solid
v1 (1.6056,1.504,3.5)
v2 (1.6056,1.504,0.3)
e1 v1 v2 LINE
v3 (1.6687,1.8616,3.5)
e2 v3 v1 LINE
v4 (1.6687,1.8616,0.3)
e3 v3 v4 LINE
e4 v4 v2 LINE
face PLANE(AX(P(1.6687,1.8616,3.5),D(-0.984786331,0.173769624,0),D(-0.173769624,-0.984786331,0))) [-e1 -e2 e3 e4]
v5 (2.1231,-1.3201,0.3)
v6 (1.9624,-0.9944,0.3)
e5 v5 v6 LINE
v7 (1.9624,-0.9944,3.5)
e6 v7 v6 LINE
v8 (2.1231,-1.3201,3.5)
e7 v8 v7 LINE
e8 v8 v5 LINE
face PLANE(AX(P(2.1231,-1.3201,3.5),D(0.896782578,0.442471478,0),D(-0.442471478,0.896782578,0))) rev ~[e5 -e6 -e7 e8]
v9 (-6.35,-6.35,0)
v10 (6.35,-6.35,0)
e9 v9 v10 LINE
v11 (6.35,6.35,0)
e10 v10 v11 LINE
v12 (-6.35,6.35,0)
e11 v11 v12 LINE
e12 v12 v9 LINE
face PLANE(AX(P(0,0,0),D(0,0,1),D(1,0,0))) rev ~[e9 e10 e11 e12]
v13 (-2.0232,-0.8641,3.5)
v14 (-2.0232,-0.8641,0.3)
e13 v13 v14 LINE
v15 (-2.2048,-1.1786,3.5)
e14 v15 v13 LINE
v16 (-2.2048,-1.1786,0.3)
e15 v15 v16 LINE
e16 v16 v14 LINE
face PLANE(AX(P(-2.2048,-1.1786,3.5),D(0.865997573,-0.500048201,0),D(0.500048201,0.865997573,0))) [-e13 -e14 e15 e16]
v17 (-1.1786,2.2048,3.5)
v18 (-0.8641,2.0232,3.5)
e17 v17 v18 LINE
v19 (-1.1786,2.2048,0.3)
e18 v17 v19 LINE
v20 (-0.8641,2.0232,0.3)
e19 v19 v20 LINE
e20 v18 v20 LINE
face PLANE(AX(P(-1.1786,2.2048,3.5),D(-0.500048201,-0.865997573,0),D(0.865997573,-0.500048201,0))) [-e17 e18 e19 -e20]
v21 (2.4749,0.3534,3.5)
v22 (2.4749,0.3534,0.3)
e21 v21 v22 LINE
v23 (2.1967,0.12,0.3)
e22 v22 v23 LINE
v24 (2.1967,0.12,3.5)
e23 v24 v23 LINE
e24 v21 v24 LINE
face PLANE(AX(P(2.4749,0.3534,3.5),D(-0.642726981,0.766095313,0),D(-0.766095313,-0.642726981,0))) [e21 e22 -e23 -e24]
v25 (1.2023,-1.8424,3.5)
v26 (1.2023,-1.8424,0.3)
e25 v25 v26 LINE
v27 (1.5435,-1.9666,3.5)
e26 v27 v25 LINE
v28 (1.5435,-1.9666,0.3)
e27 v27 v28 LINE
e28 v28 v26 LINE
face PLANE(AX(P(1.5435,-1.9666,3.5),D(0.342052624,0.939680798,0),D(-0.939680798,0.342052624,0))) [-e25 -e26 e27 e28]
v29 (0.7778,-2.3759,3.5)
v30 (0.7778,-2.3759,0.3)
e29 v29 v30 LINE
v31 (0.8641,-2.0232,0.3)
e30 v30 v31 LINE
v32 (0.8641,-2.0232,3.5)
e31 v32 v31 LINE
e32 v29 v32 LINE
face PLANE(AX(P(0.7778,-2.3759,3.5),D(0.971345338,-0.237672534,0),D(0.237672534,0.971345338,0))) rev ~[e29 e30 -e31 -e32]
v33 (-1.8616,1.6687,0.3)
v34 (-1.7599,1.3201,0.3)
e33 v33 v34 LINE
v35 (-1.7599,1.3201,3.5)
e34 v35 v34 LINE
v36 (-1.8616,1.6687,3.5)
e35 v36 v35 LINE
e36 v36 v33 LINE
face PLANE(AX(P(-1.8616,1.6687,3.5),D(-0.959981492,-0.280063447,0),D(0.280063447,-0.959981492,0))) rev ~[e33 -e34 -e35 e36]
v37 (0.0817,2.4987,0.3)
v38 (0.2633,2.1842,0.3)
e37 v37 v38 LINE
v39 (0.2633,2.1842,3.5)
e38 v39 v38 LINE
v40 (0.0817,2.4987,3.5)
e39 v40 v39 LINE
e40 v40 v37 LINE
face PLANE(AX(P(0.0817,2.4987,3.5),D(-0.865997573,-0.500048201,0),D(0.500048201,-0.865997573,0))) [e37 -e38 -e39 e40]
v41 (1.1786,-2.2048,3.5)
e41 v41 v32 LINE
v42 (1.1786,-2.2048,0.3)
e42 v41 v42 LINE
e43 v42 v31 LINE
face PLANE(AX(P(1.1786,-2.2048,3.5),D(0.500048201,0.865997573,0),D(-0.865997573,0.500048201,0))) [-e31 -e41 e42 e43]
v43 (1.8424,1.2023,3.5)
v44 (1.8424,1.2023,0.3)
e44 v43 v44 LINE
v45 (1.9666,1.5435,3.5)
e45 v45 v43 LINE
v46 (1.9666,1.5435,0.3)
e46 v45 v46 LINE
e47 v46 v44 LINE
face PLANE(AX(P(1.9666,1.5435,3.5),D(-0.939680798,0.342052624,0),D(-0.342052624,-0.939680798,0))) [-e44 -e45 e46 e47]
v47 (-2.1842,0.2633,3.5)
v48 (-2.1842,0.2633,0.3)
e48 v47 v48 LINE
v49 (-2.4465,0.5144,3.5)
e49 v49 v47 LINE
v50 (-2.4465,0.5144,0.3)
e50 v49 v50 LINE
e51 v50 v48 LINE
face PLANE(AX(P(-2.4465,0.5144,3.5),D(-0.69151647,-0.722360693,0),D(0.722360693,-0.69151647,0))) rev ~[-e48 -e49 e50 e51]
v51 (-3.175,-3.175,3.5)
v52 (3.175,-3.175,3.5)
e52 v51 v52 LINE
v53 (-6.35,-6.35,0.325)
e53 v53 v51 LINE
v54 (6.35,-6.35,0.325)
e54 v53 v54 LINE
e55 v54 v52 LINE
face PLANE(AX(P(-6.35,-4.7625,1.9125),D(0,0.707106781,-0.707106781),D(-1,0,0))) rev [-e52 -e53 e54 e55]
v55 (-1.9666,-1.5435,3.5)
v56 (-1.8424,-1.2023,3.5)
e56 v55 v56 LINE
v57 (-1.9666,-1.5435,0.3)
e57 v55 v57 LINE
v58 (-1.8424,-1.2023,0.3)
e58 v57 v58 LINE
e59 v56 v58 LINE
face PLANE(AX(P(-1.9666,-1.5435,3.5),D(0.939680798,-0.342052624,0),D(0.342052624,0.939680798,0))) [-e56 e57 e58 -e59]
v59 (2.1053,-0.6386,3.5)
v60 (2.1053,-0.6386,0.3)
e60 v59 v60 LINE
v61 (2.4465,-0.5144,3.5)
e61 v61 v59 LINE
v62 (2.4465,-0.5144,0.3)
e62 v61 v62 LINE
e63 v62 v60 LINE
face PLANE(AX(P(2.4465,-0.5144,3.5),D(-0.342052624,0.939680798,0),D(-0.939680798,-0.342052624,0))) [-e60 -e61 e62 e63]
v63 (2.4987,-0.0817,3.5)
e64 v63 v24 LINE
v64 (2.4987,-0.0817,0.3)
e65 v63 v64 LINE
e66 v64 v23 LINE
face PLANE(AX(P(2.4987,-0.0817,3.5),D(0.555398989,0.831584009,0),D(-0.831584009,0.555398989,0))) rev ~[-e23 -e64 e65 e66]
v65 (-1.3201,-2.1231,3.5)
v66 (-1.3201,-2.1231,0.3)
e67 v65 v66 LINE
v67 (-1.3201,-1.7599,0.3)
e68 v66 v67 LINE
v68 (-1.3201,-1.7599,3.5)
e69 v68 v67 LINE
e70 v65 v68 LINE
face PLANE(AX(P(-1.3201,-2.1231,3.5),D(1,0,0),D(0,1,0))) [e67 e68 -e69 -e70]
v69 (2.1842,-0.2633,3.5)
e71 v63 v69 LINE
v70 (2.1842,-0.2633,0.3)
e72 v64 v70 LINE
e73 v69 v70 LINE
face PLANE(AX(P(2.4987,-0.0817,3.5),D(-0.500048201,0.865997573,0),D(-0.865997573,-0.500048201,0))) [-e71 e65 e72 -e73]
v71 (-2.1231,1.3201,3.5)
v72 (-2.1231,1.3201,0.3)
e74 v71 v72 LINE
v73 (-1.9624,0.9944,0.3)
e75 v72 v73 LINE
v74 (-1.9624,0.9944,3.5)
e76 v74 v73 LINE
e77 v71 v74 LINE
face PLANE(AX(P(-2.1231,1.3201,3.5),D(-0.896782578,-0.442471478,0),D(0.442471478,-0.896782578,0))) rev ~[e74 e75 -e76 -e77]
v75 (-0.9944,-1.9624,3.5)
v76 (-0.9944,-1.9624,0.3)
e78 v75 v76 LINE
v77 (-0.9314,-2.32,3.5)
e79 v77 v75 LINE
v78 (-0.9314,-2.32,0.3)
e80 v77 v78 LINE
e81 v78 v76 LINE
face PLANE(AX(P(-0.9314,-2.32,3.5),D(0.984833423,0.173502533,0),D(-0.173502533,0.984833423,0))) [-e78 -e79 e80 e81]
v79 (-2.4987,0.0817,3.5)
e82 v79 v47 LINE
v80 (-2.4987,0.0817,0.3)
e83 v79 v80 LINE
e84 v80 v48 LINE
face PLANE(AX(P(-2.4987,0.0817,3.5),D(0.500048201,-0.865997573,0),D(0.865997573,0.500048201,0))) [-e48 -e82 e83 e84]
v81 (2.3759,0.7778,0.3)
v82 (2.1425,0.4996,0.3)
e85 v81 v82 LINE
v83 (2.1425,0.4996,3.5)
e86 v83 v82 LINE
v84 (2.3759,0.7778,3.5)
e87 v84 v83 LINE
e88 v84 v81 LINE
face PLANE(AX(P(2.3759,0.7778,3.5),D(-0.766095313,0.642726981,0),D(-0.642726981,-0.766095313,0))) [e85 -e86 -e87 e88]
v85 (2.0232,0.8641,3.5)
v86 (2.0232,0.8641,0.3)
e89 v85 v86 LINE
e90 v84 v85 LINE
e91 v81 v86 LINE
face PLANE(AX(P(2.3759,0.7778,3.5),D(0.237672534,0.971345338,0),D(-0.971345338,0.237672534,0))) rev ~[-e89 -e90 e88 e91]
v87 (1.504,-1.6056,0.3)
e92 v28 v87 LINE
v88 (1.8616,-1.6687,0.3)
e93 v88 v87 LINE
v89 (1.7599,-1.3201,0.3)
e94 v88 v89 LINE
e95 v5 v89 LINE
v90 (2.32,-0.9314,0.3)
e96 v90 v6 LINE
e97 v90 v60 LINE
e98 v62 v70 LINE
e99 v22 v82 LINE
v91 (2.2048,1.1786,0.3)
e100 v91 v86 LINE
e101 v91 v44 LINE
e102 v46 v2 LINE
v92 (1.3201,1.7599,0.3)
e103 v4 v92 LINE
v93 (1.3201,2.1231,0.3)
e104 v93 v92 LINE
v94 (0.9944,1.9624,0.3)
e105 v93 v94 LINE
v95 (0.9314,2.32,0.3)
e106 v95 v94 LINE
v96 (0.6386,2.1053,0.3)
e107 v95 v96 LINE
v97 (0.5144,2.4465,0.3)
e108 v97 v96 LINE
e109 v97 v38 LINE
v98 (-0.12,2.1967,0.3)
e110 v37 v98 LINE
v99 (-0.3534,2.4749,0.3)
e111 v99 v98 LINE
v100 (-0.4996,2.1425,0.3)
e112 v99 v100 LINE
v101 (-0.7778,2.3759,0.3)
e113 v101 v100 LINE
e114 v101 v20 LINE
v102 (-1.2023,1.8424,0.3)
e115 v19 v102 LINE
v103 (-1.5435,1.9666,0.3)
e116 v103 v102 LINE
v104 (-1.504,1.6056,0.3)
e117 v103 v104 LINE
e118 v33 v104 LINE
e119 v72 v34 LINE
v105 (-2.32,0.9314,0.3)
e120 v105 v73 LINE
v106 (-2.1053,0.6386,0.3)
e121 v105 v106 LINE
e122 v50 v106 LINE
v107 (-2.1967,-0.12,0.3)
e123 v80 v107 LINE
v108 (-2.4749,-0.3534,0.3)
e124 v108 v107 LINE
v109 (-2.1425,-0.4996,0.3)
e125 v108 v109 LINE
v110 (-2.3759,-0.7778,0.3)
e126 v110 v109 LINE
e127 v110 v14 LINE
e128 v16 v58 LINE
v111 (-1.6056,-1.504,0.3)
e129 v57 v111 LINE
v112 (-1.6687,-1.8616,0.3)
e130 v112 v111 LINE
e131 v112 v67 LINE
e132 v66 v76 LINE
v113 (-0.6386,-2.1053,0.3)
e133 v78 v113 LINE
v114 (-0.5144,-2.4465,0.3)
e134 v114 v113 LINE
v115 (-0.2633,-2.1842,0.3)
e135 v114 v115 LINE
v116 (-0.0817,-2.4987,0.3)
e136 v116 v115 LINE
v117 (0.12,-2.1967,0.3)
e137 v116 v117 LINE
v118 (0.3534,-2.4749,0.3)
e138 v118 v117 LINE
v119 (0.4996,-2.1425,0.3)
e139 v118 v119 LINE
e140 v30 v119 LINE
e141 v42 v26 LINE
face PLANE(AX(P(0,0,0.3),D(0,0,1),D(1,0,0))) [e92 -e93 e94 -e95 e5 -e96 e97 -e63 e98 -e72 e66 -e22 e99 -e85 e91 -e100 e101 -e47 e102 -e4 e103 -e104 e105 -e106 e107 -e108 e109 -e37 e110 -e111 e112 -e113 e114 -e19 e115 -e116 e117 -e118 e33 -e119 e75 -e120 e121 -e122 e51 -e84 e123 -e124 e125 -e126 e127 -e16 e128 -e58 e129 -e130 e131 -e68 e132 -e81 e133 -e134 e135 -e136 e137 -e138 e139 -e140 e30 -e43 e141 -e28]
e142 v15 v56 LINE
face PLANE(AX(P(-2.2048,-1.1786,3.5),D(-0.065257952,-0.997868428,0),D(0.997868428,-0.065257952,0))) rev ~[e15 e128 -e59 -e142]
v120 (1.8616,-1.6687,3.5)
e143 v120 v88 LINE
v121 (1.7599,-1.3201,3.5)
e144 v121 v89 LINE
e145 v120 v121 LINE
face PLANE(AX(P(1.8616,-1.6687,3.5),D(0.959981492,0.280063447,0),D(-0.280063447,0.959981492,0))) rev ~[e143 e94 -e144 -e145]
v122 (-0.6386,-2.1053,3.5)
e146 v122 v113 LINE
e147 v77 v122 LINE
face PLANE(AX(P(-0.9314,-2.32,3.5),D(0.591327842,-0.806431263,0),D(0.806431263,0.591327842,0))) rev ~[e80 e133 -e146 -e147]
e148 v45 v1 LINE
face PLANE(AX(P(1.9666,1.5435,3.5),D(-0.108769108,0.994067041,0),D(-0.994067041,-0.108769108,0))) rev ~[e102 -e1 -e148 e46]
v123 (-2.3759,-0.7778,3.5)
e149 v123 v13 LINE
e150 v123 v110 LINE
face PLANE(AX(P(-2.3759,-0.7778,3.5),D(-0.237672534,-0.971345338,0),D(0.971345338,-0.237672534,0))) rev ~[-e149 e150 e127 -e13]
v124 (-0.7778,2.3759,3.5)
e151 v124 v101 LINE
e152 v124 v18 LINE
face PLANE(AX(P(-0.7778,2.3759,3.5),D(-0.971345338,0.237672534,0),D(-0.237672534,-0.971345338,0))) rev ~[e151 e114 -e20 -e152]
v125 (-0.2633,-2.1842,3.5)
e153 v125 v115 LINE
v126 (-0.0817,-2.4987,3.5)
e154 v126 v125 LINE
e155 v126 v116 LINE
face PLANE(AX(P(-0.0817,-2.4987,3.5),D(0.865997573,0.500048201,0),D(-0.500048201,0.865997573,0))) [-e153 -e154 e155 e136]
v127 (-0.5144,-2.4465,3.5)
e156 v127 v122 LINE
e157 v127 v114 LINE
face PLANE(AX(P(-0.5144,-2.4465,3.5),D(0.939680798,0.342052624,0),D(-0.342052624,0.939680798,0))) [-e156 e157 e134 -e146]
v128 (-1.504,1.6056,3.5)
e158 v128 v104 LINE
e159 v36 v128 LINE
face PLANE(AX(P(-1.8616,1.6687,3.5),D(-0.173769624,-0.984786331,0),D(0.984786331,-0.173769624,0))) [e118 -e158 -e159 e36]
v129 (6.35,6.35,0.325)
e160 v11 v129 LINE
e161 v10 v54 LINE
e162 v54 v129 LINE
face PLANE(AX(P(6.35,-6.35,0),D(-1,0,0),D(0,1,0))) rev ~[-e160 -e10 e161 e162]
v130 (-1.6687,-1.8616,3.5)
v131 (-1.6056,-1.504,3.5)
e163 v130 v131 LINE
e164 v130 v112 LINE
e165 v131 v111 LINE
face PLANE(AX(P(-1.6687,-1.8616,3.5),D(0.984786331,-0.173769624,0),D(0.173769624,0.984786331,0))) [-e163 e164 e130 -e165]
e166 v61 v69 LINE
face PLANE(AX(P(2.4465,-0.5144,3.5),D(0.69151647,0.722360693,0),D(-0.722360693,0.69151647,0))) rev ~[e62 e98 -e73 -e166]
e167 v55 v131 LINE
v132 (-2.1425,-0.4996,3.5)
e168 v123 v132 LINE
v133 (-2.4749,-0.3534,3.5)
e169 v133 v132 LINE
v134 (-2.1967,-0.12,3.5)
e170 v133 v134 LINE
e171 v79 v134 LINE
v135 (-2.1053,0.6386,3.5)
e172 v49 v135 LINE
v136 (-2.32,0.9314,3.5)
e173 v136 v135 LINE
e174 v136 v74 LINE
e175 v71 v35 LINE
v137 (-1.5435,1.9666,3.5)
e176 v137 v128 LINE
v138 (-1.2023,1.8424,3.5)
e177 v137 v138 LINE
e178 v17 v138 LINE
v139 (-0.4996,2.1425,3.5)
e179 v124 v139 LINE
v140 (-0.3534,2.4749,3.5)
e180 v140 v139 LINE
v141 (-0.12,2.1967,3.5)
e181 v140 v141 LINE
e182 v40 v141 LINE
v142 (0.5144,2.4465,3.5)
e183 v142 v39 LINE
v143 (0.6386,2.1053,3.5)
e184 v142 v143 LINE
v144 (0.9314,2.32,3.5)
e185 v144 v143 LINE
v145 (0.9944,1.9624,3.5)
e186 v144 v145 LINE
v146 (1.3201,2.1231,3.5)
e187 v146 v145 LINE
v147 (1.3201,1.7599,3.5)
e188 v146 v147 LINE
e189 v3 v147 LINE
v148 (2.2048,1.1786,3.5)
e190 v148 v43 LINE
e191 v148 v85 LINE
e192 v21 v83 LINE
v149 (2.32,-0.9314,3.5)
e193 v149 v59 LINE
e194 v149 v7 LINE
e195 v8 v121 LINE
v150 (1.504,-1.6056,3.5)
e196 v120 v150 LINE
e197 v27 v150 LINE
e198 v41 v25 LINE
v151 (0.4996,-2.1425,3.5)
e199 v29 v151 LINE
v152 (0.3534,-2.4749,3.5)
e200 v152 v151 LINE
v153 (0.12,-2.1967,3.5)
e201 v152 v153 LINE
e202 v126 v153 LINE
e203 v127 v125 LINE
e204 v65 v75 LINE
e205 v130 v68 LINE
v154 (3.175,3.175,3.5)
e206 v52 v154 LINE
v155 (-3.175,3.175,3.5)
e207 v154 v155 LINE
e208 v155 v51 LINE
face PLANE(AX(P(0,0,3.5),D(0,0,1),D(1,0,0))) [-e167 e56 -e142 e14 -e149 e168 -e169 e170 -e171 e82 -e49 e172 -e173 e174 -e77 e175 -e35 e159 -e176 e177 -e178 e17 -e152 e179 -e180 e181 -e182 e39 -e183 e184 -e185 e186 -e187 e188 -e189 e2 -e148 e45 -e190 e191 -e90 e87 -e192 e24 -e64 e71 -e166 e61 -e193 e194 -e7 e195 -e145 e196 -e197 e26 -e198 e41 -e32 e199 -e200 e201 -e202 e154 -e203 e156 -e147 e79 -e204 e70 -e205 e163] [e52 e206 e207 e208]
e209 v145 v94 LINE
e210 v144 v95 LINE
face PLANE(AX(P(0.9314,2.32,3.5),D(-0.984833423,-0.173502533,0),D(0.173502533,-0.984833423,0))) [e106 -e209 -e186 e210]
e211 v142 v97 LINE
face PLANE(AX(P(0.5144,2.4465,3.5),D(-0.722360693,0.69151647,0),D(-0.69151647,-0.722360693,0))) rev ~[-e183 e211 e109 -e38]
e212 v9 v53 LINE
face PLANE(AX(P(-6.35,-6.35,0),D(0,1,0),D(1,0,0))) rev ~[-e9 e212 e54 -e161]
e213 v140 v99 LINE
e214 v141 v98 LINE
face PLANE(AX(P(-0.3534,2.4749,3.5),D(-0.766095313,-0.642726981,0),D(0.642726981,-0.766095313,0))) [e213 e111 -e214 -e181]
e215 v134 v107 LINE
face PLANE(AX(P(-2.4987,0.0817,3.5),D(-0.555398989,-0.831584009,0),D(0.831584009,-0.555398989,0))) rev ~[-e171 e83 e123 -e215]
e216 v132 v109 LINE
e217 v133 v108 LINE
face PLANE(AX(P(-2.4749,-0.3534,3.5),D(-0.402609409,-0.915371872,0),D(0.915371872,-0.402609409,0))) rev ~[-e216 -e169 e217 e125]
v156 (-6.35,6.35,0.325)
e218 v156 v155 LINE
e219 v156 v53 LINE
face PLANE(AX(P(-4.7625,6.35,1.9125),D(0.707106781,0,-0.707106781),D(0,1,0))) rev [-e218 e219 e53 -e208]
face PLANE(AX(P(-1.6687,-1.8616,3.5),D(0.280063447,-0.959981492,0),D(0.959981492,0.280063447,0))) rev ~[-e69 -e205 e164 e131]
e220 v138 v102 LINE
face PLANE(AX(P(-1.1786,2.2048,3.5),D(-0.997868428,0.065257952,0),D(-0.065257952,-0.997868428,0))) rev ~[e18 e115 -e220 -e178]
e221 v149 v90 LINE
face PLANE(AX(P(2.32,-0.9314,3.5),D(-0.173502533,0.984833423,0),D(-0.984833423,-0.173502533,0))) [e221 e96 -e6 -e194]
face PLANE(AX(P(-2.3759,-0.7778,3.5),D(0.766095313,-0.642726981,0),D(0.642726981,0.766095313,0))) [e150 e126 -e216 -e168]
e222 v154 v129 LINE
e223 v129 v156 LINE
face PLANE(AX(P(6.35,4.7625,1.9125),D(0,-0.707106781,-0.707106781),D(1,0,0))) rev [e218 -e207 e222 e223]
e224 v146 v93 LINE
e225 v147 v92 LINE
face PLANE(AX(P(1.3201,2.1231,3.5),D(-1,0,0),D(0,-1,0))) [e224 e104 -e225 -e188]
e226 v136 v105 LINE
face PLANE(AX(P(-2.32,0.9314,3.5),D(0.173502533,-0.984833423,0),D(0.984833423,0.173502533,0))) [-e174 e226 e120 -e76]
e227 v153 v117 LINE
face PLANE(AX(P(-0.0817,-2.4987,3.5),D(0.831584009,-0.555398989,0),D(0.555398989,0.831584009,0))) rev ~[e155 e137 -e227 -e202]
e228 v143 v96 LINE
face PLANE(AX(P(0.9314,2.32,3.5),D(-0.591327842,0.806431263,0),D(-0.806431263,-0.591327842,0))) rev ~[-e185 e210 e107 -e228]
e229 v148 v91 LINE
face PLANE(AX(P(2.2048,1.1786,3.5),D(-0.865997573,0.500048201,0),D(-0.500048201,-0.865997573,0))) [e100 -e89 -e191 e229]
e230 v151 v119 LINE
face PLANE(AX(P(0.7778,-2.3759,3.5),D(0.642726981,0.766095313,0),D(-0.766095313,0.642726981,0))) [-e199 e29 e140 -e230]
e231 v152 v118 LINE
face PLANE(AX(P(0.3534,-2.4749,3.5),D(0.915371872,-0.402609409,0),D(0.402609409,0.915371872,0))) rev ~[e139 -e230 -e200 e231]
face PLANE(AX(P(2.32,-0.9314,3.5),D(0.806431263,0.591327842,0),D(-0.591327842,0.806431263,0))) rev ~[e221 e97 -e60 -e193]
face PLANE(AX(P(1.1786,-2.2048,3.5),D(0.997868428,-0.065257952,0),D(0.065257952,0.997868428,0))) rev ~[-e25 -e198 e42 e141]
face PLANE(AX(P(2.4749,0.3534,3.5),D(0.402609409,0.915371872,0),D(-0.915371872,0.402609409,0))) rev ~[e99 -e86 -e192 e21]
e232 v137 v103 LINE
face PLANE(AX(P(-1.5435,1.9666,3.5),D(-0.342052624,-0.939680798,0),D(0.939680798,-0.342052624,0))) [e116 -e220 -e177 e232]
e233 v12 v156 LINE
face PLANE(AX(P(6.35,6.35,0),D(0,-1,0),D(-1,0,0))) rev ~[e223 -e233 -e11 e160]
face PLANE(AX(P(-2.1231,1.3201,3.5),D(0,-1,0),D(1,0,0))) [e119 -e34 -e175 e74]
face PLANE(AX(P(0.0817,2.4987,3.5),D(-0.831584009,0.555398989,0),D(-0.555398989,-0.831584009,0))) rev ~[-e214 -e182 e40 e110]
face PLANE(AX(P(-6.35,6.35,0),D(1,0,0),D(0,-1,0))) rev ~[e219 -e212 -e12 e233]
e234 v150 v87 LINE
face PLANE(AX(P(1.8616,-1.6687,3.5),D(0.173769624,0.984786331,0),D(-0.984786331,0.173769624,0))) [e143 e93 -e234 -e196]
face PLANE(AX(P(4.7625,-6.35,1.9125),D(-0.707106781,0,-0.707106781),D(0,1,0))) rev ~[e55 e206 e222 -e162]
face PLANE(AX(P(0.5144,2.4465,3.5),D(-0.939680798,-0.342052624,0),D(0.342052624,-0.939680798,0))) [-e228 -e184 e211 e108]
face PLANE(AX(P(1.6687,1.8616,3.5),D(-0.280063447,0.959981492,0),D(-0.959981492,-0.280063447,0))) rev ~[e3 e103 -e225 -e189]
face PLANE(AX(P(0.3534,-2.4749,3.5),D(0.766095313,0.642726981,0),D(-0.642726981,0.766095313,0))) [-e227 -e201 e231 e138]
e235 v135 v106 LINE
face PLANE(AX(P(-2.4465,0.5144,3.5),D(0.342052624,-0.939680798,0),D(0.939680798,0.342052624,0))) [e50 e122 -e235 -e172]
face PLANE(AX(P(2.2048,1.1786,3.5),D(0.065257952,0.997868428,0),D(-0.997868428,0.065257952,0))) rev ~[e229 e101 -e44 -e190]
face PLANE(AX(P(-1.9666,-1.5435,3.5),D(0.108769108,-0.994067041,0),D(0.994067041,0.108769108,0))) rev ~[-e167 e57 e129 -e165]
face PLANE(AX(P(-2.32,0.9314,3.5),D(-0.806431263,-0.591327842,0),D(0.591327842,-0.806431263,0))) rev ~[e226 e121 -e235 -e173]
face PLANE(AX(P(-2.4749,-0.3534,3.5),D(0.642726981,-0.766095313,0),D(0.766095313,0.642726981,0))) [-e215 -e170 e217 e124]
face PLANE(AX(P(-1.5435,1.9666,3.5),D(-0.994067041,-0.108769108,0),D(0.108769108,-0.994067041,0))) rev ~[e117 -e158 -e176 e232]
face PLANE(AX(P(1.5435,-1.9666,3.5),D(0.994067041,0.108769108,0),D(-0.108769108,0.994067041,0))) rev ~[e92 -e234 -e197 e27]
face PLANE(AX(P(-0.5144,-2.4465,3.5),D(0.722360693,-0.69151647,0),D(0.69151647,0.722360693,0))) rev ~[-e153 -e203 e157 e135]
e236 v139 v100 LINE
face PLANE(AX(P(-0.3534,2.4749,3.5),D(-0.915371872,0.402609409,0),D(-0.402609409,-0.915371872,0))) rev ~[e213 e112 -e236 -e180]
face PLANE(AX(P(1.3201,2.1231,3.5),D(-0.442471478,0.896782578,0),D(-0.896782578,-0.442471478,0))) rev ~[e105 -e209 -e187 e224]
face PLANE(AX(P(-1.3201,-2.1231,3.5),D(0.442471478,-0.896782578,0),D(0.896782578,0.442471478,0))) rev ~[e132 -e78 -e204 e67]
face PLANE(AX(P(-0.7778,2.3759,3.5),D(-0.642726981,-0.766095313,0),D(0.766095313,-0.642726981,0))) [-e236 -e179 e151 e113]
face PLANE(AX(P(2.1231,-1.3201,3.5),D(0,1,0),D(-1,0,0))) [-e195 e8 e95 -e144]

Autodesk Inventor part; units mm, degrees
ref_plane "YZ Plane" through (0, 0, 0) normal (1, 0, 0) x (0, 1, 0)
ref_plane "XZ Plane" through (0, 0, 0) normal (0, 1, 0) x (-1, 0, 0)
ref_plane "XY Plane" through (0, 0, 0) normal (0, 0, 1) x (1, 0, 0)
sketch "Sketch1" plane through (0, 0, 0) normal (0, 0, 1) x (1, 0, 0)
  line L0 (-6.35, -6.35) -> (6.35, -6.35)
  line L1 (6.35, -6.35) -> (6.35, 6.35)
  line L2 (6.35, 6.35) -> (-6.35, 6.35)
  line L3 (-6.35, 6.35) -> (-6.35, -6.35)
  line L4 (-6.35, -6.35) -> (6.35, 6.35) construction
  line L5 (6.35, -6.35) -> (-6.35, 6.35) construction
  line L6 (-0.3534, 2.4749) -> (-0.4996, 2.1425)
  line L7 (-0.3534, 2.4749) -> (-0.12, 2.1967)
  line L8 (-0.7778, 2.3759) -> (-0.8641, 2.0232)
  line L9 (-0.7778, 2.3759) -> (-0.4996, 2.1425)
  line L10 (-1.1786, 2.2048) -> (-1.2023, 1.8424)
  line L11 (-1.1786, 2.2048) -> (-0.8641, 2.0232)
  line L12 (-1.5435, 1.9666) -> (-1.504, 1.6056)
  line L13 (-1.5435, 1.9666) -> (-1.2023, 1.8424)
  line L14 (-1.8616, 1.6687) -> (-1.7599, 1.3201)
  line L15 (-1.8616, 1.6687) -> (-1.504, 1.6056)
  line L16 (-2.1231, 1.3201) -> (-1.9624, 0.9944)
  line L17 (-2.1231, 1.3201) -> (-1.7599, 1.3201)
  line L18 (-2.32, 0.9314) -> (-2.1053, 0.6386)
  line L19 (-2.32, 0.9314) -> (-1.9624, 0.9944)
  line L20 (-2.4465, 0.5144) -> (-2.1842, 0.2633)
  line L21 (-2.4465, 0.5144) -> (-2.1053, 0.6386)
  line L22 (-2.4987, 0.0817) -> (-2.1967, -0.12)
  line L23 (-2.4987, 0.0817) -> (-2.1842, 0.2633)
  line L24 (-2.4749, -0.3534) -> (-2.1425, -0.4996)
  line L25 (-2.4749, -0.3534) -> (-2.1967, -0.12)
  line L26 (-2.3759, -0.7778) -> (-2.0232, -0.8641)
  line L27 (-2.3759, -0.7778) -> (-2.1425, -0.4996)
  line L28 (-2.2048, -1.1786) -> (-1.8424, -1.2023)
  line L29 (-2.2048, -1.1786) -> (-2.0232, -0.8641)
  line L30 (-1.9666, -1.5435) -> (-1.6056, -1.504)
  line L31 (-1.9666, -1.5435) -> (-1.8424, -1.2023)
  line L32 (-1.6687, -1.8616) -> (-1.3201, -1.7599)
  line L33 (-1.6687, -1.8616) -> (-1.6056, -1.504)
  line L34 (-1.3201, -2.1231) -> (-0.9944, -1.9624)
  line L35 (-1.3201, -2.1231) -> (-1.3201, -1.7599)
  line L36 (-0.9314, -2.32) -> (-0.6386, -2.1053)
  line L37 (-0.9314, -2.32) -> (-0.9944, -1.9624)
  line L38 (-0.5144, -2.4465) -> (-0.2633, -2.1842)
  line L39 (-0.5144, -2.4465) -> (-0.6386, -2.1053)
  line L40 (-0.0817, -2.4987) -> (0.12, -2.1967)
  line L41 (-0.0817, -2.4987) -> (-0.2633, -2.1842)
  line L42 (0.3534, -2.4749) -> (0.4996, -2.1425)
  line L43 (0.3534, -2.4749) -> (0.12, -2.1967)
  line L44 (0.7778, -2.3759) -> (0.8641, -2.0232)
  line L45 (0.7778, -2.3759) -> (0.4996, -2.1425)
  line L46 (1.1786, -2.2048) -> (1.2023, -1.8424)
  line L47 (1.1786, -2.2048) -> (0.8641, -2.0232)
  line L48 (1.5435, -1.9666) -> (1.504, -1.6056)
  line L49 (1.5435, -1.9666) -> (1.2023, -1.8424)
  line L50 (1.8616, -1.6687) -> (1.7599, -1.3201)
  line L51 (1.8616, -1.6687) -> (1.504, -1.6056)
  line L52 (2.1231, -1.3201) -> (1.9624, -0.9944)
  line L53 (2.1231, -1.3201) -> (1.7599, -1.3201)
  line L54 (2.32, -0.9314) -> (2.1053, -0.6386)
  line L55 (2.32, -0.9314) -> (1.9624, -0.9944)
  line L56 (2.4465, -0.5144) -> (2.1842, -0.2633)
  line L57 (2.4465, -0.5144) -> (2.1053, -0.6386)
  line L58 (2.4987, -0.0817) -> (2.1967, 0.12)
  line L59 (2.4987, -0.0817) -> (2.1842, -0.2633)
  line L60 (2.4749, 0.3534) -> (2.1425, 0.4996)
  line L61 (2.4749, 0.3534) -> (2.1967, 0.12)
  line L62 (2.3759, 0.7778) -> (2.0232, 0.8641)
  line L63 (2.3759, 0.7778) -> (2.1425, 0.4996)
  line L64 (2.2048, 1.1786) -> (1.8424, 1.2023)
  line L65 (2.2048, 1.1786) -> (2.0232, 0.8641)
  line L66 (1.9666, 1.5435) -> (1.6056, 1.504)
  line L67 (1.9666, 1.5435) -> (1.8424, 1.2023)
  line L68 (1.6687, 1.8616) -> (1.3201, 1.7599)
  line L69 (1.6687, 1.8616) -> (1.6056, 1.504)
  line L70 (1.3201, 2.1231) -> (0.9944, 1.9624)
  line L71 (1.3201, 2.1231) -> (1.3201, 1.7599)
  line L72 (0.9314, 2.32) -> (0.6386, 2.1053)
  line L73 (0.9314, 2.32) -> (0.9944, 1.9624)
  line L74 (0.5144, 2.4465) -> (0.2633, 2.1842)
  line L75 (0.5144, 2.4465) -> (0.6386, 2.1053)
  line L76 (0.0817, 2.4987) -> (-0.12, 2.1967)
  line L77 (0.0817, 2.4987) -> (0.2633, 2.1842)
  circle A0 centre (0, 0) radius 0.3723
  point P0 (0, 0)
  dimension "d0" = 12.7
  dimension "d1" = 12.7
extrude "Extrusion1" add sketch "Sketch1" along normal blind 3.5 contours L3 L2 L1 L0 | L7 L76 L77 L74 L75 L72 L73 L70 L71 L68 L69 L66 L67 L64 L65 L62 L63 L60 L61 L58 L59 L56 L57 L54 L55 L52 L53 L50 L51 L48 L49 L46 L47 L44 L45 L42 L43 L40 L41 L38 L39 L36 L37 L34 L35 L32 L33 L30 L31 L28 L29 L26 L27 L24 L25 L22 L23 L20 L21 L18 L19 L16 L17 L14 L15 L12 L13 L10 L11 L8 L9 L6 | A0
sketch "Sketch2" plane through (0, 0, 3.5) normal (0, 0, 1) x (1, 0, 0)
  line L0 (2.2048, 1.1786) -> (1.8424, 1.2023)
  line L1 (2.2048, 1.1786) -> (2.0232, 0.8641)
  line L2 (2.4749, 0.3534) -> (2.1425, 0.4996)
  line L3 (2.4749, 0.3534) -> (2.1967, 0.12)
  line L4 (2.4987, -0.0817) -> (2.1967, 0.12)
  line L5 (2.4987, -0.0817) -> (2.1842, -0.2633)
  line L6 (-0.3534, 2.4749) -> (-0.12, 2.1967)
  line L7 (-0.3534, 2.4749) -> (-0.4996, 2.1425)
  line L8 (-1.5435, 1.9666) -> (-1.504, 1.6056)
  line L9 (-1.8616, 1.6687) -> (-1.504, 1.6056)
  line L10 (-1.8616, 1.6687) -> (-1.7599, 1.3201)
  line L11 (-1.5435, 1.9666) -> (-1.2023, 1.8424)
  line L12 (-1.1786, 2.2048) -> (-1.2023, 1.8424)
  line L13 (-1.1786, 2.2048) -> (-0.8641, 2.0232)
  line L14 (-0.7778, 2.3759) -> (-0.8641, 2.0232)
  line L15 (-0.7778, 2.3759) -> (-0.4996, 2.1425)
  line L16 (-2.1231, 1.3201) -> (-1.7599, 1.3201)
  line L17 (-2.1231, 1.3201) -> (-1.9624, 0.9944)
  line L18 (-2.32, 0.9314) -> (-1.9624, 0.9944)
  line L19 (-2.32, 0.9314) -> (-2.1053, 0.6386)
  line L20 (-2.4465, 0.5144) -> (-2.1053, 0.6386)
  line L21 (-2.4465, 0.5144) -> (-2.1842, 0.2633)
  line L22 (-2.4987, 0.0817) -> (-2.1842, 0.2633)
  line L23 (-2.4987, 0.0817) -> (-2.1967, -0.12)
  line L24 (-2.4749, -0.3534) -> (-2.1967, -0.12)
  line L25 (-2.4749, -0.3534) -> (-2.1425, -0.4996)
  line L26 (-2.3759, -0.7778) -> (-2.1425, -0.4996)
  line L27 (-2.3759, -0.7778) -> (-2.0232, -0.8641)
  line L28 (-2.2048, -1.1786) -> (-2.0232, -0.8641)
  line L29 (-2.2048, -1.1786) -> (-1.8424, -1.2023)
  line L30 (-1.9666, -1.5435) -> (-1.8424, -1.2023)
  line L31 (-1.9666, -1.5435) -> (-1.6056, -1.504)
  line L32 (-1.6687, -1.8616) -> (-1.6056, -1.504)
  line L33 (-1.6687, -1.8616) -> (-1.3201, -1.7599)
  line L34 (-1.3201, -2.1231) -> (-1.3201, -1.7599)
  line L35 (-1.3201, -2.1231) -> (-0.9944, -1.9624)
  line L36 (-0.9314, -2.32) -> (-0.9944, -1.9624)
  line L37 (-0.9314, -2.32) -> (-0.6386, -2.1053)
  line L38 (-0.5144, -2.4465) -> (-0.6386, -2.1053)
  line L39 (-0.5144, -2.4465) -> (-0.2633, -2.1842)
  line L40 (-0.0817, -2.4987) -> (-0.2633, -2.1842)
  line L41 (-0.0817, -2.4987) -> (0.12, -2.1967)
  line L42 (0.3534, -2.4749) -> (0.12, -2.1967)
  line L43 (0.3534, -2.4749) -> (0.4996, -2.1425)
  line L44 (0.7778, -2.3759) -> (0.4996, -2.1425)
  line L45 (0.7778, -2.3759) -> (0.8641, -2.0232)
  line L46 (1.1786, -2.2048) -> (0.8641, -2.0232)
  line L47 (1.1786, -2.2048) -> (1.2023, -1.8424)
  line L48 (1.5435, -1.9666) -> (1.2023, -1.8424)
  line L49 (1.5435, -1.9666) -> (1.504, -1.6056)
  line L50 (1.8616, -1.6687) -> (1.504, -1.6056)
  line L51 (1.8616, -1.6687) -> (1.7599, -1.3201)
  line L52 (2.1231, -1.3201) -> (1.7599, -1.3201)
  line L53 (2.1231, -1.3201) -> (1.9624, -0.9944)
  line L54 (2.32, -0.9314) -> (1.9624, -0.9944)
  line L55 (2.32, -0.9314) -> (2.1053, -0.6386)
  line L56 (2.4465, -0.5144) -> (2.1053, -0.6386)
  line L57 (2.4465, -0.5144) -> (2.1842, -0.2633)
  line L58 (2.3759, 0.7778) -> (2.0232, 0.8641)
  line L59 (2.3759, 0.7778) -> (2.1425, 0.4996)
  line L60 (1.9666, 1.5435) -> (1.8424, 1.2023)
  line L61 (1.9666, 1.5435) -> (1.6056, 1.504)
  line L62 (1.6687, 1.8616) -> (1.6056, 1.504)
  line L63 (1.6687, 1.8616) -> (1.3201, 1.7599)
  line L64 (0.0817, 2.4987) -> (-0.12, 2.1967)
  line L65 (0.0817, 2.4987) -> (0.2633, 2.1842)
  circle A0 centre (0, 0) radius 0.3723
  line L66 (0.5144, 2.4465) -> (0.2633, 2.1842)
  line L67 (0.5144, 2.4465) -> (0.6386, 2.1053)
  line L68 (1.3201, 2.1231) -> (1.3201, 1.7599)
  line L69 (1.3201, 2.1231) -> (0.9944, 1.9624)
  line L70 (0.9314, 2.32) -> (0.9944, 1.9624)
  line L71 (0.9314, 2.32) -> (0.6386, 2.1053)
  point P0 (0, 0)
extrude "Extrusion2" cut sketch "Sketch2" against normal blind 3.2 contours L1 L58 L59 L2 L3 L4 L5 L57 L56 L55 L54 L53 L52 L51 L50 L49 L48 L47 L46 L45 L44 L43 L42 L41 L40 L39 L38 L37 L36 L35 L34 L33 L32 L31 L30 L29 L28 L27 L26 L25 L24 L23 L22 L21 L20 L19 L18 L17 L16 L10 L9 L8 L11 L12 L13 L14 L15 L7 L6 L64 L65 L66 L67 L71 L70 L69 L68 L63 L62 L61 L60 L0 | A0
chamfer "Chamfer1" distance 3.175 angle 45 4 edges at (0, -6.35, 3.5) (-6.35, 0, 3.5) (6.35, 0, 3.5) (0, 6.35, 3.5)
properties part number "Servo Grip"
